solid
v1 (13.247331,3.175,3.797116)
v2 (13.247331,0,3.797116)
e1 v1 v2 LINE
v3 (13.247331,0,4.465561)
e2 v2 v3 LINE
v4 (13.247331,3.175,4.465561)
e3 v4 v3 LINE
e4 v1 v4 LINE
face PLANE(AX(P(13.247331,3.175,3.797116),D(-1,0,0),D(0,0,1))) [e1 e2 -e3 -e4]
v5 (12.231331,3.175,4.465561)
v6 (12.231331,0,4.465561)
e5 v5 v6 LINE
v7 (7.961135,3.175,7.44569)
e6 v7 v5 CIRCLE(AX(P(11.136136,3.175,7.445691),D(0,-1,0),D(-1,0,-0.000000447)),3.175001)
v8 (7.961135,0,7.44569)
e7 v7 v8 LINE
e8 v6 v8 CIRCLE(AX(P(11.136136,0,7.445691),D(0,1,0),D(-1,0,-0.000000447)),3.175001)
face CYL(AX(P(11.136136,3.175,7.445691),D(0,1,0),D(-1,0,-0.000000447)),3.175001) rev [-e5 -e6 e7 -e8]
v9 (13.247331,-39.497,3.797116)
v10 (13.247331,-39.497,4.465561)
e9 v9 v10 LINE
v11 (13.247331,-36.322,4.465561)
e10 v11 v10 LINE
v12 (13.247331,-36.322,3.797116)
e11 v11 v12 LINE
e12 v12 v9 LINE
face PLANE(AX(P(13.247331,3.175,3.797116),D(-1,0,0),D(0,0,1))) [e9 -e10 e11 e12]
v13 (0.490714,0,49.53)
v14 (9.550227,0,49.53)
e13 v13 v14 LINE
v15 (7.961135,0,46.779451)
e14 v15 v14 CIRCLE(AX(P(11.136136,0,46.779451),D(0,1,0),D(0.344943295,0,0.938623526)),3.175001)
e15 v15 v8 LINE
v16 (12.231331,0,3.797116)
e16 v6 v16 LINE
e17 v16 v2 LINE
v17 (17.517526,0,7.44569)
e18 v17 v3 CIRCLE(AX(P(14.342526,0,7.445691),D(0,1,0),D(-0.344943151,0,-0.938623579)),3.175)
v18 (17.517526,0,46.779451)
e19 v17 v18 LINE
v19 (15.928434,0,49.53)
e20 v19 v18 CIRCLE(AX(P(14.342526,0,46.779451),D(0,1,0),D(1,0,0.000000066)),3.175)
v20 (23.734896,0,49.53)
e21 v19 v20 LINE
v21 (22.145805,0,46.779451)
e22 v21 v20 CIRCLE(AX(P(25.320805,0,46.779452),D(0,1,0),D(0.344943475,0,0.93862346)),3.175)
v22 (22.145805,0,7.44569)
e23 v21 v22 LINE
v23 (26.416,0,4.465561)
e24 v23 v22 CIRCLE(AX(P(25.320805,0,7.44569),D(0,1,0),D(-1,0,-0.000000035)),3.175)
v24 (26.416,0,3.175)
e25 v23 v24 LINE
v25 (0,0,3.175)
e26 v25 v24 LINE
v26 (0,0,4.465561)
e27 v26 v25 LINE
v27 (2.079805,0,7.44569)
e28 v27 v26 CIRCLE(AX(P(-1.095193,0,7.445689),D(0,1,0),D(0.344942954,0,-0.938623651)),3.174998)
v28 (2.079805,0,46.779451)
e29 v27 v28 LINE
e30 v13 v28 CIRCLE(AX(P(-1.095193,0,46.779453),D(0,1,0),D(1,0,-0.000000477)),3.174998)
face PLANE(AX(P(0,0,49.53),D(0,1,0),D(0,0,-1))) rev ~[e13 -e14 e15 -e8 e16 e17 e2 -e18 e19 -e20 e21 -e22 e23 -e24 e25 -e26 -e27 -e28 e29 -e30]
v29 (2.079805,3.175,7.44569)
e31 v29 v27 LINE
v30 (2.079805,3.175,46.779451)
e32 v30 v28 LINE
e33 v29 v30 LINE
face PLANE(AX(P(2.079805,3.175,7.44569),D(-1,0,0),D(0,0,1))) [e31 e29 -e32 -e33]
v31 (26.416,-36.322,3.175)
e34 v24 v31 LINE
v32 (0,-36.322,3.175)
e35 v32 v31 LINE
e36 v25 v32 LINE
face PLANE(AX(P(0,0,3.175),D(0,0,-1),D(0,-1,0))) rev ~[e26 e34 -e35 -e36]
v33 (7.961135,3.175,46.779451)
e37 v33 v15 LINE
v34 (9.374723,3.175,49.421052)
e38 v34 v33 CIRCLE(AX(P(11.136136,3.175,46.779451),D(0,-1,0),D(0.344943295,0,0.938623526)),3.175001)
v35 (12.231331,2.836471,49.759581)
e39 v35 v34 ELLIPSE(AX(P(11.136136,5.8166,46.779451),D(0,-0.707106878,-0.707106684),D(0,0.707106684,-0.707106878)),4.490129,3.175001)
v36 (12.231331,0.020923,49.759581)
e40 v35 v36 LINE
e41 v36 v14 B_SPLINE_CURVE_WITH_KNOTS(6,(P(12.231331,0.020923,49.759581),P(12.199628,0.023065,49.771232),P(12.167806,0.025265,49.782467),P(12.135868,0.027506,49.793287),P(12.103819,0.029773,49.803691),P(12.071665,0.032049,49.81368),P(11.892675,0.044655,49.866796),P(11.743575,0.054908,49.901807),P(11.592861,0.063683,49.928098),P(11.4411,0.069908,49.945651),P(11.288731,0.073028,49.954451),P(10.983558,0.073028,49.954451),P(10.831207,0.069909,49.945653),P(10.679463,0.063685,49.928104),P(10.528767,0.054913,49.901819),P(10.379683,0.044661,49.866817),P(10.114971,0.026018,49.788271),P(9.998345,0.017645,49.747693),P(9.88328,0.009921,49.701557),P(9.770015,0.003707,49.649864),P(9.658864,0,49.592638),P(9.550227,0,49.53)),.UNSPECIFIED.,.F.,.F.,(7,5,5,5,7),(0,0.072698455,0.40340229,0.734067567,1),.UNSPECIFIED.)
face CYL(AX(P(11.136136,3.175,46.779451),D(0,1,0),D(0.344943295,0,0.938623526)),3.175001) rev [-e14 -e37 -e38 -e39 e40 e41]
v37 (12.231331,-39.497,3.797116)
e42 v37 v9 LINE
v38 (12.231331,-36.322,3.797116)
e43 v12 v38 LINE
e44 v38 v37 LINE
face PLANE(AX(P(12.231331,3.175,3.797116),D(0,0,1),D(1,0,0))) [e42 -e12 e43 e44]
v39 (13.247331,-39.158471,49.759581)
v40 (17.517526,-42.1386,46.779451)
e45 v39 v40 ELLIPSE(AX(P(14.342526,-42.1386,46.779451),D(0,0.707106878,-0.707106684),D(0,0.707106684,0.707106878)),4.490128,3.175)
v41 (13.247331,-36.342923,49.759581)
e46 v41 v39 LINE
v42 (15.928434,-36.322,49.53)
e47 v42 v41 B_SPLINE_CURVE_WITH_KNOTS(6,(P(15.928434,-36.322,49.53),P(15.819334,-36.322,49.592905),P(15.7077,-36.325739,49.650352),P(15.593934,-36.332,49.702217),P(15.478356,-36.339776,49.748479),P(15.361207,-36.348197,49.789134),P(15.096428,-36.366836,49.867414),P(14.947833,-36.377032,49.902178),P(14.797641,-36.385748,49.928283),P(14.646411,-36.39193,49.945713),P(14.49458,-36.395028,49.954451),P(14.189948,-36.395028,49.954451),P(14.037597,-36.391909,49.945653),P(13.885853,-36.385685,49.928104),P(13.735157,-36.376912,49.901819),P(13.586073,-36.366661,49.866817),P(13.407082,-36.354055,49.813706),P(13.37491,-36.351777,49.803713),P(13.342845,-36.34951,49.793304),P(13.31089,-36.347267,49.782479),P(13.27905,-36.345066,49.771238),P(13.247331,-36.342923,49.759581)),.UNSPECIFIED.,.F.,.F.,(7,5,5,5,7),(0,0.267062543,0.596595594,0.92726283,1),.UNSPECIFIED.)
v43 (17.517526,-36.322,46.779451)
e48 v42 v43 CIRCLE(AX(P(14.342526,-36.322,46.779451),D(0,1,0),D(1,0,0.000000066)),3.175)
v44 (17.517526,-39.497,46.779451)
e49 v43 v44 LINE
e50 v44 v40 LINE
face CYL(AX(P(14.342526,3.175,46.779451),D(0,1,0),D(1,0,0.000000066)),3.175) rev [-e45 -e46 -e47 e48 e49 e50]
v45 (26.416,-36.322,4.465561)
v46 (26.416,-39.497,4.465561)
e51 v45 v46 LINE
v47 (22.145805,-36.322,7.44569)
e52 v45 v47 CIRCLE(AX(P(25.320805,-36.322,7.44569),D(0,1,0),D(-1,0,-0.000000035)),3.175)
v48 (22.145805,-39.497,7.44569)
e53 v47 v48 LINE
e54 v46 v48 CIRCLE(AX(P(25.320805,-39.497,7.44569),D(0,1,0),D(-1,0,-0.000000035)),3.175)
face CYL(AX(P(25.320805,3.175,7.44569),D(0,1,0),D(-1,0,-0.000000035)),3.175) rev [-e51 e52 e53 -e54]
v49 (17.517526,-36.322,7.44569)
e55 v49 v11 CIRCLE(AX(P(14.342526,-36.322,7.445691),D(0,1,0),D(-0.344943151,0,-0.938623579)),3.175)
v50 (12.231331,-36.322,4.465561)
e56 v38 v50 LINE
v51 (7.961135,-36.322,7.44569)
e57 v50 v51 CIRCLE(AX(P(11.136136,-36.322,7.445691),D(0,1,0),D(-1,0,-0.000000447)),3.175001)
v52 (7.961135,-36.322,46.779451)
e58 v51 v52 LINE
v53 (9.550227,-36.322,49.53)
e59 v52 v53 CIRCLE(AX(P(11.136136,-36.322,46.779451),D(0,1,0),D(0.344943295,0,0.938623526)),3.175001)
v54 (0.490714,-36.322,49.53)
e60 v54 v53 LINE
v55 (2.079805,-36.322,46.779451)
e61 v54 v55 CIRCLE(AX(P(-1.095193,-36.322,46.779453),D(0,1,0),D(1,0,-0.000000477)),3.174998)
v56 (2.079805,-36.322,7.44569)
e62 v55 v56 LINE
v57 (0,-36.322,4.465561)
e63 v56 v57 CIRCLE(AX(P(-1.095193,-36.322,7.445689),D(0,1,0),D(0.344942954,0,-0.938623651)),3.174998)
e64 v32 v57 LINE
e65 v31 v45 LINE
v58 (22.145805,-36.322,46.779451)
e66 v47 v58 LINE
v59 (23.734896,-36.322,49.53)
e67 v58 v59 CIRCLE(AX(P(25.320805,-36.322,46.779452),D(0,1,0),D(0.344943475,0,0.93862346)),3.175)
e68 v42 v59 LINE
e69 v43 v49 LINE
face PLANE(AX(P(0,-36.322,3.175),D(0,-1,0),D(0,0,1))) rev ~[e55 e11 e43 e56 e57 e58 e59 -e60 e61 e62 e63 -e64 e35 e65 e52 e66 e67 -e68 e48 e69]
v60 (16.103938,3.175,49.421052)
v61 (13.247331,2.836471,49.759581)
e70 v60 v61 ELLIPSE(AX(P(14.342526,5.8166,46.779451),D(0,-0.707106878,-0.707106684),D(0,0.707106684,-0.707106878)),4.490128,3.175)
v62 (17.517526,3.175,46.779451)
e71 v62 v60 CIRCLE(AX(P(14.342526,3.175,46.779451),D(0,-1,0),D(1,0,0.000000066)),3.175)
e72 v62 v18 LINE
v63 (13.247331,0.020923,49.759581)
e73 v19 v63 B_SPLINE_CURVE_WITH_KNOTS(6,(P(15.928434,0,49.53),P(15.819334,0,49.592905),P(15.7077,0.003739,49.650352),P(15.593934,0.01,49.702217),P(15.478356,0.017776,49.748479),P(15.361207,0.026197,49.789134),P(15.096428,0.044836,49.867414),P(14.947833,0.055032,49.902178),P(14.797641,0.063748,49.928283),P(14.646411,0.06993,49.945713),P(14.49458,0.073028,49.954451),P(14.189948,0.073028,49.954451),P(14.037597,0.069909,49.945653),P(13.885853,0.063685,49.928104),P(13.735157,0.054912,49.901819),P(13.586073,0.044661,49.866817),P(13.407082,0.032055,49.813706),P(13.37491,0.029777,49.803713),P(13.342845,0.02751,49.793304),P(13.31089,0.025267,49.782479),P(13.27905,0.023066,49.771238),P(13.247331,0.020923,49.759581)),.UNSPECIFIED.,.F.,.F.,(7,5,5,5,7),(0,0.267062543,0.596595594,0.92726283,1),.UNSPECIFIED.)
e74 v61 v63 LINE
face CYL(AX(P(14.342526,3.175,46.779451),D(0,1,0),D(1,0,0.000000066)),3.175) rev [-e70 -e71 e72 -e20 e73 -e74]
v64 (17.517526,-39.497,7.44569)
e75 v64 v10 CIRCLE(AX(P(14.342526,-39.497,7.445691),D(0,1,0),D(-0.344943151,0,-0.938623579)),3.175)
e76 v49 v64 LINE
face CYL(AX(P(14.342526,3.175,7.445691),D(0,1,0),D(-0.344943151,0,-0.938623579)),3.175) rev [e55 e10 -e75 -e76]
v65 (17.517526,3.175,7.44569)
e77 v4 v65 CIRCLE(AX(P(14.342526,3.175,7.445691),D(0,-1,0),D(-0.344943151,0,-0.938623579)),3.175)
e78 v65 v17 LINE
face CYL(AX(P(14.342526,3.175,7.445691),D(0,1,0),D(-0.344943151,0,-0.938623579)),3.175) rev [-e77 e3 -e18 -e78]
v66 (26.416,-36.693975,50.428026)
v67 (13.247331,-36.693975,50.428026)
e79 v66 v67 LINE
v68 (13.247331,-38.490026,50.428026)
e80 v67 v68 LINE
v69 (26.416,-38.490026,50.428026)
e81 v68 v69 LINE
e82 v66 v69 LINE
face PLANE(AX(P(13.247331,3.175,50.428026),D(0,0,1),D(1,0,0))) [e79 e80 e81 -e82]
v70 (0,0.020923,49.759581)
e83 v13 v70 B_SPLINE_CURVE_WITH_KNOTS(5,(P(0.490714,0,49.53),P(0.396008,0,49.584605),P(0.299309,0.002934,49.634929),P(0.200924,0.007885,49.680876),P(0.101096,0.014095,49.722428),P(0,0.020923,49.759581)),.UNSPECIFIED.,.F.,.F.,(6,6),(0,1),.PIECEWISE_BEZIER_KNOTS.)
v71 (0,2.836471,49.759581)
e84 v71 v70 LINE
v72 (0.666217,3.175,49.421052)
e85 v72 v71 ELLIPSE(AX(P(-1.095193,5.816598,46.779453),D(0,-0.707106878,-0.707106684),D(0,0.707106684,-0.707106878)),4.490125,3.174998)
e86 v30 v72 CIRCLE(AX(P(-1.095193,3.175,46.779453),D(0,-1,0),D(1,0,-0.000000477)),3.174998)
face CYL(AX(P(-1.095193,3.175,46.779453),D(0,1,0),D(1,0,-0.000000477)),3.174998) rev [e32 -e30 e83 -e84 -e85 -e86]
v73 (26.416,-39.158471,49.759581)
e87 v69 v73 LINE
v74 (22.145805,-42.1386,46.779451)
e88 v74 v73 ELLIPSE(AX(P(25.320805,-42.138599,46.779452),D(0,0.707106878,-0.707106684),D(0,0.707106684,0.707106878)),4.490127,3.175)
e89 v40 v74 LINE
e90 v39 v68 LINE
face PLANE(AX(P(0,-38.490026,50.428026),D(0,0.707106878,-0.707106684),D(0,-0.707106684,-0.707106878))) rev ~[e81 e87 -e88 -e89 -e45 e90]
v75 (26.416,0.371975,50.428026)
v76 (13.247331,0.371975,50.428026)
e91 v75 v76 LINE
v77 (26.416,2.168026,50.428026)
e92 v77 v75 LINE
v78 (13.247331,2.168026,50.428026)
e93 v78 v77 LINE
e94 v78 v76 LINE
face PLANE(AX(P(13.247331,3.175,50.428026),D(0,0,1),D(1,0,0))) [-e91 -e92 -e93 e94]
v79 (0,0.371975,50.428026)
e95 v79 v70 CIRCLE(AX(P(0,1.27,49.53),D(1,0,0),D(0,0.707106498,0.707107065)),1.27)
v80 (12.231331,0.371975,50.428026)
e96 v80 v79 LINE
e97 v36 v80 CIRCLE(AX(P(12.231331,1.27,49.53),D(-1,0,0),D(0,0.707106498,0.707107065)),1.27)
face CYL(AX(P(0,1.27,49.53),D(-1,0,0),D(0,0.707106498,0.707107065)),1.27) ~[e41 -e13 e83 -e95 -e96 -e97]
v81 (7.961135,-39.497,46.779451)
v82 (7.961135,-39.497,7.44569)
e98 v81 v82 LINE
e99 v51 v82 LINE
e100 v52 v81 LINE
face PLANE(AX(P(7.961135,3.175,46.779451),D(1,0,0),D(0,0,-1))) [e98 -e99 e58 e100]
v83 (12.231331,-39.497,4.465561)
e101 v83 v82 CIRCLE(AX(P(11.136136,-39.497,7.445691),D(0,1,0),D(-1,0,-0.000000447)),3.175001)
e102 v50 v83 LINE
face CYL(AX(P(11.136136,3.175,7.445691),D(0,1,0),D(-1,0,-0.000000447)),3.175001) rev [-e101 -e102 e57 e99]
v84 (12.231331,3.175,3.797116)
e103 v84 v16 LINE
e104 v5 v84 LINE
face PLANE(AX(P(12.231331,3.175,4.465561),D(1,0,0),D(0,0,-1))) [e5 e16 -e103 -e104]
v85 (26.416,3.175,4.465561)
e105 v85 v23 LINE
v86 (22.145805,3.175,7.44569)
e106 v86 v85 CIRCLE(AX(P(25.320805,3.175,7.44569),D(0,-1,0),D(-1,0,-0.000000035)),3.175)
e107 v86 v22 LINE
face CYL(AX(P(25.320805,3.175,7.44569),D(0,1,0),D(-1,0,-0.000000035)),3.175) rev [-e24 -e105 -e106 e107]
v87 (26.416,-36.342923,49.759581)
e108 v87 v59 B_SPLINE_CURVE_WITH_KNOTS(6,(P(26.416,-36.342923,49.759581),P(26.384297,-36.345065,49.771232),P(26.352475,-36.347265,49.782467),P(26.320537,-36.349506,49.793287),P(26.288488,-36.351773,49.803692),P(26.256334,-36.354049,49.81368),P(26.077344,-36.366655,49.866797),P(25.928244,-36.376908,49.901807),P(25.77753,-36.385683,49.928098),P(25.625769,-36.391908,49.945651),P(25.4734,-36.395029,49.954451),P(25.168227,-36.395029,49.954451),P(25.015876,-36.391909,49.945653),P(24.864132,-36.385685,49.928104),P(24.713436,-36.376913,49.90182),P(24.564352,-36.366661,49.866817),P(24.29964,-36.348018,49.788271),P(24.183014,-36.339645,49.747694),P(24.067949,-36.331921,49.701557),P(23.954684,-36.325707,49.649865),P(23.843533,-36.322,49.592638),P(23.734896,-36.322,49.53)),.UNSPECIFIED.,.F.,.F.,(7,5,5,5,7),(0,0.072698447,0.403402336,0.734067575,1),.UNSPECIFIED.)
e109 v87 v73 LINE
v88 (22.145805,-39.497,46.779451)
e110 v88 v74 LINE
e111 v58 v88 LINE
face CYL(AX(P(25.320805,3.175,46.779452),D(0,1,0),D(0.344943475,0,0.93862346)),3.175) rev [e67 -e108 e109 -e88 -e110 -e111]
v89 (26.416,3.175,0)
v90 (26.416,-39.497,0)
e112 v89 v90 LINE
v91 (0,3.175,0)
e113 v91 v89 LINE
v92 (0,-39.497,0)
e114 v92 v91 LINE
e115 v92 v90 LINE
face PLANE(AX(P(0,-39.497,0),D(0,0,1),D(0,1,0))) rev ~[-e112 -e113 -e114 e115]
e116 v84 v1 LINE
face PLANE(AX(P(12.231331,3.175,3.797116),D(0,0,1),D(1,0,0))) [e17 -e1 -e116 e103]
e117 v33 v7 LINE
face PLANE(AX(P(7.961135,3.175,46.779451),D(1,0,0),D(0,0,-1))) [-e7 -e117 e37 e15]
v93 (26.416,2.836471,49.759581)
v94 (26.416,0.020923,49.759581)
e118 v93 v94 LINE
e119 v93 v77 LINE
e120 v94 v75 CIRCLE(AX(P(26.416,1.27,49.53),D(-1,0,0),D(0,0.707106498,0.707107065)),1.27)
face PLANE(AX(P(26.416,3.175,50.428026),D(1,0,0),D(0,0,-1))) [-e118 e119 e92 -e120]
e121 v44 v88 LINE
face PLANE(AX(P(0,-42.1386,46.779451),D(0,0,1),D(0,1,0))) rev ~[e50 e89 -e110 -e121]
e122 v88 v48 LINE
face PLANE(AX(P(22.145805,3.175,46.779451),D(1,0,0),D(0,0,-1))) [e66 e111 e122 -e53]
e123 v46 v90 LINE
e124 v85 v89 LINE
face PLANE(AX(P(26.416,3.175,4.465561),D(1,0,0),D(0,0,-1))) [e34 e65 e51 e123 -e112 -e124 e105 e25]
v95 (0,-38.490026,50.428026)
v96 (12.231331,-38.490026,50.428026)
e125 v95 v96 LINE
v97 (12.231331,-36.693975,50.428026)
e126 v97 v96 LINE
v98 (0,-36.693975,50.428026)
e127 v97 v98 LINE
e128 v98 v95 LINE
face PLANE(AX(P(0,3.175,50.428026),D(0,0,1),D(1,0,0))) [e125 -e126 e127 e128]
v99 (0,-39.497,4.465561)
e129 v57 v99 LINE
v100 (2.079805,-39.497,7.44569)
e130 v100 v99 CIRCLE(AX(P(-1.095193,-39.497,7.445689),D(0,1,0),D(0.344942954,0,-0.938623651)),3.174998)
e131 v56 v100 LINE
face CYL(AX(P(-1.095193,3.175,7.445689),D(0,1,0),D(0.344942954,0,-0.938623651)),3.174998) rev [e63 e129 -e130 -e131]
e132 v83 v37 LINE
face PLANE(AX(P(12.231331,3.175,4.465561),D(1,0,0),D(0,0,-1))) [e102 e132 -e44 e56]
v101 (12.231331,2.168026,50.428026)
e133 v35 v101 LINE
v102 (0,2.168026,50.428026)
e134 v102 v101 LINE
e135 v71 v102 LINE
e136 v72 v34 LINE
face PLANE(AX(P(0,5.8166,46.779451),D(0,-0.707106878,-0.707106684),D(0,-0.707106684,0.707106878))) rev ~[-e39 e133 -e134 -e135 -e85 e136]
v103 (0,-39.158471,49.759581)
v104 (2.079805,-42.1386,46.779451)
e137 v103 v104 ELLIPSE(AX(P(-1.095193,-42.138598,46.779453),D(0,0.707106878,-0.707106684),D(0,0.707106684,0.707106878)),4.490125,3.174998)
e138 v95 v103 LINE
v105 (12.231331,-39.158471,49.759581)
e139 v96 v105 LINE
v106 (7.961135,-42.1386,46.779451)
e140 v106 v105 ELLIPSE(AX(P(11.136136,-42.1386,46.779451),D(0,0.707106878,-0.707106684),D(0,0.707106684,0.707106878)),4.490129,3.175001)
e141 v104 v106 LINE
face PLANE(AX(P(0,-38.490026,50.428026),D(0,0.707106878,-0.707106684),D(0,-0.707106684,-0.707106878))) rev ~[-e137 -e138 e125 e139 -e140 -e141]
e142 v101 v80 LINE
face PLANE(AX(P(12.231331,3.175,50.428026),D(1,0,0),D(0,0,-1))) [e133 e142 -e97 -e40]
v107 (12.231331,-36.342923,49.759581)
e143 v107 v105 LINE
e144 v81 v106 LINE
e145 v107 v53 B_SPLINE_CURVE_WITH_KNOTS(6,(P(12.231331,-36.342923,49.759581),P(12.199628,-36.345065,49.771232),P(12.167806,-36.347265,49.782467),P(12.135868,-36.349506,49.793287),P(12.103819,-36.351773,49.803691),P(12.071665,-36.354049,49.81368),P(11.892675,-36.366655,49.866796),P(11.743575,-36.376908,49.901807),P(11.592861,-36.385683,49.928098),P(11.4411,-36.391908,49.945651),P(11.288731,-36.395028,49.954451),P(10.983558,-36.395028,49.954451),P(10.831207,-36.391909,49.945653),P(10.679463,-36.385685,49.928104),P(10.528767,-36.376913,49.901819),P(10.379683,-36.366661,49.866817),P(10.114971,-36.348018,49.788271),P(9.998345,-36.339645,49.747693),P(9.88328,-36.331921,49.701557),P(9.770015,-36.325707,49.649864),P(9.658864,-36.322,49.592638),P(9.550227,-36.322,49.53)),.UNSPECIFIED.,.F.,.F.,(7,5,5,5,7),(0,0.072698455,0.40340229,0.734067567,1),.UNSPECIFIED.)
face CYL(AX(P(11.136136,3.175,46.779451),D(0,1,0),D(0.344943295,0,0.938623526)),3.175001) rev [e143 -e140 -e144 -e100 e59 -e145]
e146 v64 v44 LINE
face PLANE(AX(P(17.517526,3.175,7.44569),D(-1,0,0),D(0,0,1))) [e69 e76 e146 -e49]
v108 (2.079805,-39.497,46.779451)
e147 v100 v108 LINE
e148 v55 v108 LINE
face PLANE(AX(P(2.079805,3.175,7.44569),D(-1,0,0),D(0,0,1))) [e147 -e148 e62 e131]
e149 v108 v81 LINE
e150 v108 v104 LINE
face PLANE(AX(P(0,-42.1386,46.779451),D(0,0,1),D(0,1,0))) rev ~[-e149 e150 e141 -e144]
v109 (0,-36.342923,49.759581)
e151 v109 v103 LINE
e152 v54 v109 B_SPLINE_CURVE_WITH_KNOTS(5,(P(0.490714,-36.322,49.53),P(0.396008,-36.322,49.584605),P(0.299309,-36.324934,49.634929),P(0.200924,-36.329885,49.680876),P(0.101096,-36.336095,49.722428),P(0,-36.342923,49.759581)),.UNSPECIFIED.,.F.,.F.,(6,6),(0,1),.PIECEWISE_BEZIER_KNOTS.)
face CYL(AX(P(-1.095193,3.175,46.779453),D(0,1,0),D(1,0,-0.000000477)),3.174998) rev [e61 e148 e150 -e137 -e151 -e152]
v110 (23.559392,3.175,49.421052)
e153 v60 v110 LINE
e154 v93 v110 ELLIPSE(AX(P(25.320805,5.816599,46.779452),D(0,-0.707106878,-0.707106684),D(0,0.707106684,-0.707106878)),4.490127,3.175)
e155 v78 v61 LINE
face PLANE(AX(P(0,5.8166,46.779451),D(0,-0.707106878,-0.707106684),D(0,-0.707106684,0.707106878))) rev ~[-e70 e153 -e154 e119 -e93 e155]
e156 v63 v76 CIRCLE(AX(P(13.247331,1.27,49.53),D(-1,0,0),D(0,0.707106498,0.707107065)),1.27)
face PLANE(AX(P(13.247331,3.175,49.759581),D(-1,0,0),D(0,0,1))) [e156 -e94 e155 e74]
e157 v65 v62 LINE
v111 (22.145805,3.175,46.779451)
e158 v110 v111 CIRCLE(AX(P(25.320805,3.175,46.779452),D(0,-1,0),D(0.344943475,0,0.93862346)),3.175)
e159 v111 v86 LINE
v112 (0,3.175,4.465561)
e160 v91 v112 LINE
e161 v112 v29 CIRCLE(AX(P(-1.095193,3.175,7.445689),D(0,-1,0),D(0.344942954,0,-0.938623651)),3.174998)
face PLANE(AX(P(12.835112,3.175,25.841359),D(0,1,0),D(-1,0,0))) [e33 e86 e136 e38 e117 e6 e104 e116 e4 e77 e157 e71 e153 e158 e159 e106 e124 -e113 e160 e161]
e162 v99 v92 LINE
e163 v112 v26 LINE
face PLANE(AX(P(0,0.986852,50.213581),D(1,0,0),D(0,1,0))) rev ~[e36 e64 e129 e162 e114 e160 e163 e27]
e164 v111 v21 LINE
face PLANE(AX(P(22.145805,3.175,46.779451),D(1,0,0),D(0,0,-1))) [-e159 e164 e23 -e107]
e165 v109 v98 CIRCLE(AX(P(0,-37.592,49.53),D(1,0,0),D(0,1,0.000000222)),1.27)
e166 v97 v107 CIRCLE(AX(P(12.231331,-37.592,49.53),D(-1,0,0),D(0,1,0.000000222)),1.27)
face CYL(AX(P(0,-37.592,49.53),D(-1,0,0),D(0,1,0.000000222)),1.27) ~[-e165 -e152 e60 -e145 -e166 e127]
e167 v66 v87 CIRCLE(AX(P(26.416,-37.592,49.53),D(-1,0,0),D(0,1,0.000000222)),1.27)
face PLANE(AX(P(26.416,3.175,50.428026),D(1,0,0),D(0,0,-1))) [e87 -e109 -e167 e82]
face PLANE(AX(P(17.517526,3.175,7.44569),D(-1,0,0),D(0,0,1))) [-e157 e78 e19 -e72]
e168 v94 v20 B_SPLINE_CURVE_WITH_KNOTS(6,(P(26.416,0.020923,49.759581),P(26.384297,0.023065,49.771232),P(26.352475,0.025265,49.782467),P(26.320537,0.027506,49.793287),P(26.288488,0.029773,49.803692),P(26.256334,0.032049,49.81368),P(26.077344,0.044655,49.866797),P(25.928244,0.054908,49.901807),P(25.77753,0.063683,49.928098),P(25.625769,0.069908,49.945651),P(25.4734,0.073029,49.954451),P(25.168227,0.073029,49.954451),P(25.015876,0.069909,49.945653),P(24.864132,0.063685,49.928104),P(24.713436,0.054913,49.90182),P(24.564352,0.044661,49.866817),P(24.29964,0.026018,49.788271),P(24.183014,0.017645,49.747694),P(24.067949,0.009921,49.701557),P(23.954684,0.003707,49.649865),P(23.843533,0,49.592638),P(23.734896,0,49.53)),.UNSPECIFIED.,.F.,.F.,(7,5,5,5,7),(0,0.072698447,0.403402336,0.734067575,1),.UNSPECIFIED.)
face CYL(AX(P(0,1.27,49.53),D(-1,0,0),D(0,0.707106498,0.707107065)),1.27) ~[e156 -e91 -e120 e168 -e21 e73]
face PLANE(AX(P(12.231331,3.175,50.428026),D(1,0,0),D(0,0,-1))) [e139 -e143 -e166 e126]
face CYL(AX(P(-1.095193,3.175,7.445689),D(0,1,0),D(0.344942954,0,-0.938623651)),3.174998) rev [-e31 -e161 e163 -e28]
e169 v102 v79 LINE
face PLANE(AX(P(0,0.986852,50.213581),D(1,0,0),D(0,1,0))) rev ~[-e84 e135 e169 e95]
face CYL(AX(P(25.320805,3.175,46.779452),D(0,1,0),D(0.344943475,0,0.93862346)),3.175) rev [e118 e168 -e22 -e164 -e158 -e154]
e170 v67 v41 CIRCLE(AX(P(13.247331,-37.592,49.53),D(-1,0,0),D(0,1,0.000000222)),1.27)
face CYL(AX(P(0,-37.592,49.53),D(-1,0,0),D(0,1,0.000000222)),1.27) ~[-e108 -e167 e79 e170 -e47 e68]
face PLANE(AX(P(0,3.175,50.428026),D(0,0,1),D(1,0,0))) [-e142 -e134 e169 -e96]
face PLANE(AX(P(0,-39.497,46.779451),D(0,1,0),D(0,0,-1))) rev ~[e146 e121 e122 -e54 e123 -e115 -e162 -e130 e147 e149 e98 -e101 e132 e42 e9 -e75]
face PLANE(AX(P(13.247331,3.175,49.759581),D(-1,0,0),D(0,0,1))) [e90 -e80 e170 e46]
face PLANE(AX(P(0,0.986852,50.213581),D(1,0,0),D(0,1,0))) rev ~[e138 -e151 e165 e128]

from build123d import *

# Parameters (mm, degrees)
F1_DEPTH = 191.008
F3_DEPTH = 45.3146


with BuildPart() as f1:
    # F0 (on Right) → F1 (new body)
    with BuildSketch(Plane.YZ):
        with BuildLine():
            ThreePointArc((2.168026, 50.428026), (0.783992, 50.703327), (0, 49.53))
            Line((0, 49.53), (2.168026, 50.428026))
        make_face()
        Polygon((2.168026, 50.428026), (0, 49.53), (0, 3.175), (-18.161, 3.175), (-18.161, 0), (3.175, 0), (3.175, 46.779451), (5.8166, 46.779451), align=None)
        Polygon((-18.161, 0), (-18.161, 3.175), (-36.322, 3.175), (-36.322, 49.53), (-38.490026, 50.428026), (-42.1386, 46.779451), (-39.497, 46.779451), (-39.497, 0), align=None)
        with BuildLine():
            Line((-38.490026, 50.428026), (-36.322, 49.53))
            ThreePointArc((-36.322, 49.53), (-37.105992, 50.703327), (-38.490026, 50.428026))
        make_face()
    extrude(amount=F1_DEPTH)

    # F2 (on face) → F3 (intersect, through all)
    with BuildSketch(Plane(origin=(0, 3.175, 0), x_dir=(-1, 0, 0), z_dir=(0, 1, 0))):
        with BuildLine():
            Line((-26.416, 0), (0, 0))
            Line((0, 0), (0, 4.465561))
            ThreePointArc((0, 4.465561), (-1.508444, 5.628635), (-2.079805, 7.44569))
            Line((-2.079805, 7.44569), (-2.079805, 46.779451))
            ThreePointArc((-2.079805, 46.779451), (-1.508444, 48.596507), (0, 49.759581))
            Line((0, 49.759581), (0, 50.428026))
            Line((0, 50.428026), (-12.231331, 50.428026))
            Line((-12.231331, 50.428026), (-12.231331, 49.759581))
            ThreePointArc((-12.231331, 49.759581), (-9.31908, 49.38309), (-7.961135, 46.779451))
            Line((-7.961135, 46.779451), (-7.961135, 7.44569))
            ThreePointArc((-7.961135, 7.44569), (-9.31908, 4.842052), (-12.231331, 4.465561))
            Line((-12.231331, 4.465561), (-12.231331, 3.797116))
            Line((-12.231331, 3.797116), (-13.247331, 3.797116))
            Line((-13.247331, 3.797116), (-13.247331, 4.465561))
            ThreePointArc((-13.247331, 4.465561), (-16.159581, 4.842052), (-17.517526, 7.44569))
            Line((-17.517526, 7.44569), (-17.517526, 46.779451))
            ThreePointArc((-17.517526, 46.779451), (-16.159581, 49.38309), (-13.247331, 49.759581))
            Line((-13.247331, 49.759581), (-13.247331, 50.428026))
            Line((-13.247331, 50.428026), (-26.416, 50.428026))
            Line((-26.416, 50.428026), (-26.416, 49.759581))
            ThreePointArc((-26.416, 49.759581), (-23.503749, 49.38309), (-22.145805, 46.779451))
            Line((-22.145805, 46.779451), (-22.145805, 7.44569))
            ThreePointArc((-22.145805, 7.44569), (-23.503749, 4.842052), (-26.416, 4.465561))
            Line((-26.416, 4.465561), (-26.416, 0))
        make_face()
    extrude(amount=-F3_DEPTH, mode=Mode.INTERSECT)


solid = f1.part
